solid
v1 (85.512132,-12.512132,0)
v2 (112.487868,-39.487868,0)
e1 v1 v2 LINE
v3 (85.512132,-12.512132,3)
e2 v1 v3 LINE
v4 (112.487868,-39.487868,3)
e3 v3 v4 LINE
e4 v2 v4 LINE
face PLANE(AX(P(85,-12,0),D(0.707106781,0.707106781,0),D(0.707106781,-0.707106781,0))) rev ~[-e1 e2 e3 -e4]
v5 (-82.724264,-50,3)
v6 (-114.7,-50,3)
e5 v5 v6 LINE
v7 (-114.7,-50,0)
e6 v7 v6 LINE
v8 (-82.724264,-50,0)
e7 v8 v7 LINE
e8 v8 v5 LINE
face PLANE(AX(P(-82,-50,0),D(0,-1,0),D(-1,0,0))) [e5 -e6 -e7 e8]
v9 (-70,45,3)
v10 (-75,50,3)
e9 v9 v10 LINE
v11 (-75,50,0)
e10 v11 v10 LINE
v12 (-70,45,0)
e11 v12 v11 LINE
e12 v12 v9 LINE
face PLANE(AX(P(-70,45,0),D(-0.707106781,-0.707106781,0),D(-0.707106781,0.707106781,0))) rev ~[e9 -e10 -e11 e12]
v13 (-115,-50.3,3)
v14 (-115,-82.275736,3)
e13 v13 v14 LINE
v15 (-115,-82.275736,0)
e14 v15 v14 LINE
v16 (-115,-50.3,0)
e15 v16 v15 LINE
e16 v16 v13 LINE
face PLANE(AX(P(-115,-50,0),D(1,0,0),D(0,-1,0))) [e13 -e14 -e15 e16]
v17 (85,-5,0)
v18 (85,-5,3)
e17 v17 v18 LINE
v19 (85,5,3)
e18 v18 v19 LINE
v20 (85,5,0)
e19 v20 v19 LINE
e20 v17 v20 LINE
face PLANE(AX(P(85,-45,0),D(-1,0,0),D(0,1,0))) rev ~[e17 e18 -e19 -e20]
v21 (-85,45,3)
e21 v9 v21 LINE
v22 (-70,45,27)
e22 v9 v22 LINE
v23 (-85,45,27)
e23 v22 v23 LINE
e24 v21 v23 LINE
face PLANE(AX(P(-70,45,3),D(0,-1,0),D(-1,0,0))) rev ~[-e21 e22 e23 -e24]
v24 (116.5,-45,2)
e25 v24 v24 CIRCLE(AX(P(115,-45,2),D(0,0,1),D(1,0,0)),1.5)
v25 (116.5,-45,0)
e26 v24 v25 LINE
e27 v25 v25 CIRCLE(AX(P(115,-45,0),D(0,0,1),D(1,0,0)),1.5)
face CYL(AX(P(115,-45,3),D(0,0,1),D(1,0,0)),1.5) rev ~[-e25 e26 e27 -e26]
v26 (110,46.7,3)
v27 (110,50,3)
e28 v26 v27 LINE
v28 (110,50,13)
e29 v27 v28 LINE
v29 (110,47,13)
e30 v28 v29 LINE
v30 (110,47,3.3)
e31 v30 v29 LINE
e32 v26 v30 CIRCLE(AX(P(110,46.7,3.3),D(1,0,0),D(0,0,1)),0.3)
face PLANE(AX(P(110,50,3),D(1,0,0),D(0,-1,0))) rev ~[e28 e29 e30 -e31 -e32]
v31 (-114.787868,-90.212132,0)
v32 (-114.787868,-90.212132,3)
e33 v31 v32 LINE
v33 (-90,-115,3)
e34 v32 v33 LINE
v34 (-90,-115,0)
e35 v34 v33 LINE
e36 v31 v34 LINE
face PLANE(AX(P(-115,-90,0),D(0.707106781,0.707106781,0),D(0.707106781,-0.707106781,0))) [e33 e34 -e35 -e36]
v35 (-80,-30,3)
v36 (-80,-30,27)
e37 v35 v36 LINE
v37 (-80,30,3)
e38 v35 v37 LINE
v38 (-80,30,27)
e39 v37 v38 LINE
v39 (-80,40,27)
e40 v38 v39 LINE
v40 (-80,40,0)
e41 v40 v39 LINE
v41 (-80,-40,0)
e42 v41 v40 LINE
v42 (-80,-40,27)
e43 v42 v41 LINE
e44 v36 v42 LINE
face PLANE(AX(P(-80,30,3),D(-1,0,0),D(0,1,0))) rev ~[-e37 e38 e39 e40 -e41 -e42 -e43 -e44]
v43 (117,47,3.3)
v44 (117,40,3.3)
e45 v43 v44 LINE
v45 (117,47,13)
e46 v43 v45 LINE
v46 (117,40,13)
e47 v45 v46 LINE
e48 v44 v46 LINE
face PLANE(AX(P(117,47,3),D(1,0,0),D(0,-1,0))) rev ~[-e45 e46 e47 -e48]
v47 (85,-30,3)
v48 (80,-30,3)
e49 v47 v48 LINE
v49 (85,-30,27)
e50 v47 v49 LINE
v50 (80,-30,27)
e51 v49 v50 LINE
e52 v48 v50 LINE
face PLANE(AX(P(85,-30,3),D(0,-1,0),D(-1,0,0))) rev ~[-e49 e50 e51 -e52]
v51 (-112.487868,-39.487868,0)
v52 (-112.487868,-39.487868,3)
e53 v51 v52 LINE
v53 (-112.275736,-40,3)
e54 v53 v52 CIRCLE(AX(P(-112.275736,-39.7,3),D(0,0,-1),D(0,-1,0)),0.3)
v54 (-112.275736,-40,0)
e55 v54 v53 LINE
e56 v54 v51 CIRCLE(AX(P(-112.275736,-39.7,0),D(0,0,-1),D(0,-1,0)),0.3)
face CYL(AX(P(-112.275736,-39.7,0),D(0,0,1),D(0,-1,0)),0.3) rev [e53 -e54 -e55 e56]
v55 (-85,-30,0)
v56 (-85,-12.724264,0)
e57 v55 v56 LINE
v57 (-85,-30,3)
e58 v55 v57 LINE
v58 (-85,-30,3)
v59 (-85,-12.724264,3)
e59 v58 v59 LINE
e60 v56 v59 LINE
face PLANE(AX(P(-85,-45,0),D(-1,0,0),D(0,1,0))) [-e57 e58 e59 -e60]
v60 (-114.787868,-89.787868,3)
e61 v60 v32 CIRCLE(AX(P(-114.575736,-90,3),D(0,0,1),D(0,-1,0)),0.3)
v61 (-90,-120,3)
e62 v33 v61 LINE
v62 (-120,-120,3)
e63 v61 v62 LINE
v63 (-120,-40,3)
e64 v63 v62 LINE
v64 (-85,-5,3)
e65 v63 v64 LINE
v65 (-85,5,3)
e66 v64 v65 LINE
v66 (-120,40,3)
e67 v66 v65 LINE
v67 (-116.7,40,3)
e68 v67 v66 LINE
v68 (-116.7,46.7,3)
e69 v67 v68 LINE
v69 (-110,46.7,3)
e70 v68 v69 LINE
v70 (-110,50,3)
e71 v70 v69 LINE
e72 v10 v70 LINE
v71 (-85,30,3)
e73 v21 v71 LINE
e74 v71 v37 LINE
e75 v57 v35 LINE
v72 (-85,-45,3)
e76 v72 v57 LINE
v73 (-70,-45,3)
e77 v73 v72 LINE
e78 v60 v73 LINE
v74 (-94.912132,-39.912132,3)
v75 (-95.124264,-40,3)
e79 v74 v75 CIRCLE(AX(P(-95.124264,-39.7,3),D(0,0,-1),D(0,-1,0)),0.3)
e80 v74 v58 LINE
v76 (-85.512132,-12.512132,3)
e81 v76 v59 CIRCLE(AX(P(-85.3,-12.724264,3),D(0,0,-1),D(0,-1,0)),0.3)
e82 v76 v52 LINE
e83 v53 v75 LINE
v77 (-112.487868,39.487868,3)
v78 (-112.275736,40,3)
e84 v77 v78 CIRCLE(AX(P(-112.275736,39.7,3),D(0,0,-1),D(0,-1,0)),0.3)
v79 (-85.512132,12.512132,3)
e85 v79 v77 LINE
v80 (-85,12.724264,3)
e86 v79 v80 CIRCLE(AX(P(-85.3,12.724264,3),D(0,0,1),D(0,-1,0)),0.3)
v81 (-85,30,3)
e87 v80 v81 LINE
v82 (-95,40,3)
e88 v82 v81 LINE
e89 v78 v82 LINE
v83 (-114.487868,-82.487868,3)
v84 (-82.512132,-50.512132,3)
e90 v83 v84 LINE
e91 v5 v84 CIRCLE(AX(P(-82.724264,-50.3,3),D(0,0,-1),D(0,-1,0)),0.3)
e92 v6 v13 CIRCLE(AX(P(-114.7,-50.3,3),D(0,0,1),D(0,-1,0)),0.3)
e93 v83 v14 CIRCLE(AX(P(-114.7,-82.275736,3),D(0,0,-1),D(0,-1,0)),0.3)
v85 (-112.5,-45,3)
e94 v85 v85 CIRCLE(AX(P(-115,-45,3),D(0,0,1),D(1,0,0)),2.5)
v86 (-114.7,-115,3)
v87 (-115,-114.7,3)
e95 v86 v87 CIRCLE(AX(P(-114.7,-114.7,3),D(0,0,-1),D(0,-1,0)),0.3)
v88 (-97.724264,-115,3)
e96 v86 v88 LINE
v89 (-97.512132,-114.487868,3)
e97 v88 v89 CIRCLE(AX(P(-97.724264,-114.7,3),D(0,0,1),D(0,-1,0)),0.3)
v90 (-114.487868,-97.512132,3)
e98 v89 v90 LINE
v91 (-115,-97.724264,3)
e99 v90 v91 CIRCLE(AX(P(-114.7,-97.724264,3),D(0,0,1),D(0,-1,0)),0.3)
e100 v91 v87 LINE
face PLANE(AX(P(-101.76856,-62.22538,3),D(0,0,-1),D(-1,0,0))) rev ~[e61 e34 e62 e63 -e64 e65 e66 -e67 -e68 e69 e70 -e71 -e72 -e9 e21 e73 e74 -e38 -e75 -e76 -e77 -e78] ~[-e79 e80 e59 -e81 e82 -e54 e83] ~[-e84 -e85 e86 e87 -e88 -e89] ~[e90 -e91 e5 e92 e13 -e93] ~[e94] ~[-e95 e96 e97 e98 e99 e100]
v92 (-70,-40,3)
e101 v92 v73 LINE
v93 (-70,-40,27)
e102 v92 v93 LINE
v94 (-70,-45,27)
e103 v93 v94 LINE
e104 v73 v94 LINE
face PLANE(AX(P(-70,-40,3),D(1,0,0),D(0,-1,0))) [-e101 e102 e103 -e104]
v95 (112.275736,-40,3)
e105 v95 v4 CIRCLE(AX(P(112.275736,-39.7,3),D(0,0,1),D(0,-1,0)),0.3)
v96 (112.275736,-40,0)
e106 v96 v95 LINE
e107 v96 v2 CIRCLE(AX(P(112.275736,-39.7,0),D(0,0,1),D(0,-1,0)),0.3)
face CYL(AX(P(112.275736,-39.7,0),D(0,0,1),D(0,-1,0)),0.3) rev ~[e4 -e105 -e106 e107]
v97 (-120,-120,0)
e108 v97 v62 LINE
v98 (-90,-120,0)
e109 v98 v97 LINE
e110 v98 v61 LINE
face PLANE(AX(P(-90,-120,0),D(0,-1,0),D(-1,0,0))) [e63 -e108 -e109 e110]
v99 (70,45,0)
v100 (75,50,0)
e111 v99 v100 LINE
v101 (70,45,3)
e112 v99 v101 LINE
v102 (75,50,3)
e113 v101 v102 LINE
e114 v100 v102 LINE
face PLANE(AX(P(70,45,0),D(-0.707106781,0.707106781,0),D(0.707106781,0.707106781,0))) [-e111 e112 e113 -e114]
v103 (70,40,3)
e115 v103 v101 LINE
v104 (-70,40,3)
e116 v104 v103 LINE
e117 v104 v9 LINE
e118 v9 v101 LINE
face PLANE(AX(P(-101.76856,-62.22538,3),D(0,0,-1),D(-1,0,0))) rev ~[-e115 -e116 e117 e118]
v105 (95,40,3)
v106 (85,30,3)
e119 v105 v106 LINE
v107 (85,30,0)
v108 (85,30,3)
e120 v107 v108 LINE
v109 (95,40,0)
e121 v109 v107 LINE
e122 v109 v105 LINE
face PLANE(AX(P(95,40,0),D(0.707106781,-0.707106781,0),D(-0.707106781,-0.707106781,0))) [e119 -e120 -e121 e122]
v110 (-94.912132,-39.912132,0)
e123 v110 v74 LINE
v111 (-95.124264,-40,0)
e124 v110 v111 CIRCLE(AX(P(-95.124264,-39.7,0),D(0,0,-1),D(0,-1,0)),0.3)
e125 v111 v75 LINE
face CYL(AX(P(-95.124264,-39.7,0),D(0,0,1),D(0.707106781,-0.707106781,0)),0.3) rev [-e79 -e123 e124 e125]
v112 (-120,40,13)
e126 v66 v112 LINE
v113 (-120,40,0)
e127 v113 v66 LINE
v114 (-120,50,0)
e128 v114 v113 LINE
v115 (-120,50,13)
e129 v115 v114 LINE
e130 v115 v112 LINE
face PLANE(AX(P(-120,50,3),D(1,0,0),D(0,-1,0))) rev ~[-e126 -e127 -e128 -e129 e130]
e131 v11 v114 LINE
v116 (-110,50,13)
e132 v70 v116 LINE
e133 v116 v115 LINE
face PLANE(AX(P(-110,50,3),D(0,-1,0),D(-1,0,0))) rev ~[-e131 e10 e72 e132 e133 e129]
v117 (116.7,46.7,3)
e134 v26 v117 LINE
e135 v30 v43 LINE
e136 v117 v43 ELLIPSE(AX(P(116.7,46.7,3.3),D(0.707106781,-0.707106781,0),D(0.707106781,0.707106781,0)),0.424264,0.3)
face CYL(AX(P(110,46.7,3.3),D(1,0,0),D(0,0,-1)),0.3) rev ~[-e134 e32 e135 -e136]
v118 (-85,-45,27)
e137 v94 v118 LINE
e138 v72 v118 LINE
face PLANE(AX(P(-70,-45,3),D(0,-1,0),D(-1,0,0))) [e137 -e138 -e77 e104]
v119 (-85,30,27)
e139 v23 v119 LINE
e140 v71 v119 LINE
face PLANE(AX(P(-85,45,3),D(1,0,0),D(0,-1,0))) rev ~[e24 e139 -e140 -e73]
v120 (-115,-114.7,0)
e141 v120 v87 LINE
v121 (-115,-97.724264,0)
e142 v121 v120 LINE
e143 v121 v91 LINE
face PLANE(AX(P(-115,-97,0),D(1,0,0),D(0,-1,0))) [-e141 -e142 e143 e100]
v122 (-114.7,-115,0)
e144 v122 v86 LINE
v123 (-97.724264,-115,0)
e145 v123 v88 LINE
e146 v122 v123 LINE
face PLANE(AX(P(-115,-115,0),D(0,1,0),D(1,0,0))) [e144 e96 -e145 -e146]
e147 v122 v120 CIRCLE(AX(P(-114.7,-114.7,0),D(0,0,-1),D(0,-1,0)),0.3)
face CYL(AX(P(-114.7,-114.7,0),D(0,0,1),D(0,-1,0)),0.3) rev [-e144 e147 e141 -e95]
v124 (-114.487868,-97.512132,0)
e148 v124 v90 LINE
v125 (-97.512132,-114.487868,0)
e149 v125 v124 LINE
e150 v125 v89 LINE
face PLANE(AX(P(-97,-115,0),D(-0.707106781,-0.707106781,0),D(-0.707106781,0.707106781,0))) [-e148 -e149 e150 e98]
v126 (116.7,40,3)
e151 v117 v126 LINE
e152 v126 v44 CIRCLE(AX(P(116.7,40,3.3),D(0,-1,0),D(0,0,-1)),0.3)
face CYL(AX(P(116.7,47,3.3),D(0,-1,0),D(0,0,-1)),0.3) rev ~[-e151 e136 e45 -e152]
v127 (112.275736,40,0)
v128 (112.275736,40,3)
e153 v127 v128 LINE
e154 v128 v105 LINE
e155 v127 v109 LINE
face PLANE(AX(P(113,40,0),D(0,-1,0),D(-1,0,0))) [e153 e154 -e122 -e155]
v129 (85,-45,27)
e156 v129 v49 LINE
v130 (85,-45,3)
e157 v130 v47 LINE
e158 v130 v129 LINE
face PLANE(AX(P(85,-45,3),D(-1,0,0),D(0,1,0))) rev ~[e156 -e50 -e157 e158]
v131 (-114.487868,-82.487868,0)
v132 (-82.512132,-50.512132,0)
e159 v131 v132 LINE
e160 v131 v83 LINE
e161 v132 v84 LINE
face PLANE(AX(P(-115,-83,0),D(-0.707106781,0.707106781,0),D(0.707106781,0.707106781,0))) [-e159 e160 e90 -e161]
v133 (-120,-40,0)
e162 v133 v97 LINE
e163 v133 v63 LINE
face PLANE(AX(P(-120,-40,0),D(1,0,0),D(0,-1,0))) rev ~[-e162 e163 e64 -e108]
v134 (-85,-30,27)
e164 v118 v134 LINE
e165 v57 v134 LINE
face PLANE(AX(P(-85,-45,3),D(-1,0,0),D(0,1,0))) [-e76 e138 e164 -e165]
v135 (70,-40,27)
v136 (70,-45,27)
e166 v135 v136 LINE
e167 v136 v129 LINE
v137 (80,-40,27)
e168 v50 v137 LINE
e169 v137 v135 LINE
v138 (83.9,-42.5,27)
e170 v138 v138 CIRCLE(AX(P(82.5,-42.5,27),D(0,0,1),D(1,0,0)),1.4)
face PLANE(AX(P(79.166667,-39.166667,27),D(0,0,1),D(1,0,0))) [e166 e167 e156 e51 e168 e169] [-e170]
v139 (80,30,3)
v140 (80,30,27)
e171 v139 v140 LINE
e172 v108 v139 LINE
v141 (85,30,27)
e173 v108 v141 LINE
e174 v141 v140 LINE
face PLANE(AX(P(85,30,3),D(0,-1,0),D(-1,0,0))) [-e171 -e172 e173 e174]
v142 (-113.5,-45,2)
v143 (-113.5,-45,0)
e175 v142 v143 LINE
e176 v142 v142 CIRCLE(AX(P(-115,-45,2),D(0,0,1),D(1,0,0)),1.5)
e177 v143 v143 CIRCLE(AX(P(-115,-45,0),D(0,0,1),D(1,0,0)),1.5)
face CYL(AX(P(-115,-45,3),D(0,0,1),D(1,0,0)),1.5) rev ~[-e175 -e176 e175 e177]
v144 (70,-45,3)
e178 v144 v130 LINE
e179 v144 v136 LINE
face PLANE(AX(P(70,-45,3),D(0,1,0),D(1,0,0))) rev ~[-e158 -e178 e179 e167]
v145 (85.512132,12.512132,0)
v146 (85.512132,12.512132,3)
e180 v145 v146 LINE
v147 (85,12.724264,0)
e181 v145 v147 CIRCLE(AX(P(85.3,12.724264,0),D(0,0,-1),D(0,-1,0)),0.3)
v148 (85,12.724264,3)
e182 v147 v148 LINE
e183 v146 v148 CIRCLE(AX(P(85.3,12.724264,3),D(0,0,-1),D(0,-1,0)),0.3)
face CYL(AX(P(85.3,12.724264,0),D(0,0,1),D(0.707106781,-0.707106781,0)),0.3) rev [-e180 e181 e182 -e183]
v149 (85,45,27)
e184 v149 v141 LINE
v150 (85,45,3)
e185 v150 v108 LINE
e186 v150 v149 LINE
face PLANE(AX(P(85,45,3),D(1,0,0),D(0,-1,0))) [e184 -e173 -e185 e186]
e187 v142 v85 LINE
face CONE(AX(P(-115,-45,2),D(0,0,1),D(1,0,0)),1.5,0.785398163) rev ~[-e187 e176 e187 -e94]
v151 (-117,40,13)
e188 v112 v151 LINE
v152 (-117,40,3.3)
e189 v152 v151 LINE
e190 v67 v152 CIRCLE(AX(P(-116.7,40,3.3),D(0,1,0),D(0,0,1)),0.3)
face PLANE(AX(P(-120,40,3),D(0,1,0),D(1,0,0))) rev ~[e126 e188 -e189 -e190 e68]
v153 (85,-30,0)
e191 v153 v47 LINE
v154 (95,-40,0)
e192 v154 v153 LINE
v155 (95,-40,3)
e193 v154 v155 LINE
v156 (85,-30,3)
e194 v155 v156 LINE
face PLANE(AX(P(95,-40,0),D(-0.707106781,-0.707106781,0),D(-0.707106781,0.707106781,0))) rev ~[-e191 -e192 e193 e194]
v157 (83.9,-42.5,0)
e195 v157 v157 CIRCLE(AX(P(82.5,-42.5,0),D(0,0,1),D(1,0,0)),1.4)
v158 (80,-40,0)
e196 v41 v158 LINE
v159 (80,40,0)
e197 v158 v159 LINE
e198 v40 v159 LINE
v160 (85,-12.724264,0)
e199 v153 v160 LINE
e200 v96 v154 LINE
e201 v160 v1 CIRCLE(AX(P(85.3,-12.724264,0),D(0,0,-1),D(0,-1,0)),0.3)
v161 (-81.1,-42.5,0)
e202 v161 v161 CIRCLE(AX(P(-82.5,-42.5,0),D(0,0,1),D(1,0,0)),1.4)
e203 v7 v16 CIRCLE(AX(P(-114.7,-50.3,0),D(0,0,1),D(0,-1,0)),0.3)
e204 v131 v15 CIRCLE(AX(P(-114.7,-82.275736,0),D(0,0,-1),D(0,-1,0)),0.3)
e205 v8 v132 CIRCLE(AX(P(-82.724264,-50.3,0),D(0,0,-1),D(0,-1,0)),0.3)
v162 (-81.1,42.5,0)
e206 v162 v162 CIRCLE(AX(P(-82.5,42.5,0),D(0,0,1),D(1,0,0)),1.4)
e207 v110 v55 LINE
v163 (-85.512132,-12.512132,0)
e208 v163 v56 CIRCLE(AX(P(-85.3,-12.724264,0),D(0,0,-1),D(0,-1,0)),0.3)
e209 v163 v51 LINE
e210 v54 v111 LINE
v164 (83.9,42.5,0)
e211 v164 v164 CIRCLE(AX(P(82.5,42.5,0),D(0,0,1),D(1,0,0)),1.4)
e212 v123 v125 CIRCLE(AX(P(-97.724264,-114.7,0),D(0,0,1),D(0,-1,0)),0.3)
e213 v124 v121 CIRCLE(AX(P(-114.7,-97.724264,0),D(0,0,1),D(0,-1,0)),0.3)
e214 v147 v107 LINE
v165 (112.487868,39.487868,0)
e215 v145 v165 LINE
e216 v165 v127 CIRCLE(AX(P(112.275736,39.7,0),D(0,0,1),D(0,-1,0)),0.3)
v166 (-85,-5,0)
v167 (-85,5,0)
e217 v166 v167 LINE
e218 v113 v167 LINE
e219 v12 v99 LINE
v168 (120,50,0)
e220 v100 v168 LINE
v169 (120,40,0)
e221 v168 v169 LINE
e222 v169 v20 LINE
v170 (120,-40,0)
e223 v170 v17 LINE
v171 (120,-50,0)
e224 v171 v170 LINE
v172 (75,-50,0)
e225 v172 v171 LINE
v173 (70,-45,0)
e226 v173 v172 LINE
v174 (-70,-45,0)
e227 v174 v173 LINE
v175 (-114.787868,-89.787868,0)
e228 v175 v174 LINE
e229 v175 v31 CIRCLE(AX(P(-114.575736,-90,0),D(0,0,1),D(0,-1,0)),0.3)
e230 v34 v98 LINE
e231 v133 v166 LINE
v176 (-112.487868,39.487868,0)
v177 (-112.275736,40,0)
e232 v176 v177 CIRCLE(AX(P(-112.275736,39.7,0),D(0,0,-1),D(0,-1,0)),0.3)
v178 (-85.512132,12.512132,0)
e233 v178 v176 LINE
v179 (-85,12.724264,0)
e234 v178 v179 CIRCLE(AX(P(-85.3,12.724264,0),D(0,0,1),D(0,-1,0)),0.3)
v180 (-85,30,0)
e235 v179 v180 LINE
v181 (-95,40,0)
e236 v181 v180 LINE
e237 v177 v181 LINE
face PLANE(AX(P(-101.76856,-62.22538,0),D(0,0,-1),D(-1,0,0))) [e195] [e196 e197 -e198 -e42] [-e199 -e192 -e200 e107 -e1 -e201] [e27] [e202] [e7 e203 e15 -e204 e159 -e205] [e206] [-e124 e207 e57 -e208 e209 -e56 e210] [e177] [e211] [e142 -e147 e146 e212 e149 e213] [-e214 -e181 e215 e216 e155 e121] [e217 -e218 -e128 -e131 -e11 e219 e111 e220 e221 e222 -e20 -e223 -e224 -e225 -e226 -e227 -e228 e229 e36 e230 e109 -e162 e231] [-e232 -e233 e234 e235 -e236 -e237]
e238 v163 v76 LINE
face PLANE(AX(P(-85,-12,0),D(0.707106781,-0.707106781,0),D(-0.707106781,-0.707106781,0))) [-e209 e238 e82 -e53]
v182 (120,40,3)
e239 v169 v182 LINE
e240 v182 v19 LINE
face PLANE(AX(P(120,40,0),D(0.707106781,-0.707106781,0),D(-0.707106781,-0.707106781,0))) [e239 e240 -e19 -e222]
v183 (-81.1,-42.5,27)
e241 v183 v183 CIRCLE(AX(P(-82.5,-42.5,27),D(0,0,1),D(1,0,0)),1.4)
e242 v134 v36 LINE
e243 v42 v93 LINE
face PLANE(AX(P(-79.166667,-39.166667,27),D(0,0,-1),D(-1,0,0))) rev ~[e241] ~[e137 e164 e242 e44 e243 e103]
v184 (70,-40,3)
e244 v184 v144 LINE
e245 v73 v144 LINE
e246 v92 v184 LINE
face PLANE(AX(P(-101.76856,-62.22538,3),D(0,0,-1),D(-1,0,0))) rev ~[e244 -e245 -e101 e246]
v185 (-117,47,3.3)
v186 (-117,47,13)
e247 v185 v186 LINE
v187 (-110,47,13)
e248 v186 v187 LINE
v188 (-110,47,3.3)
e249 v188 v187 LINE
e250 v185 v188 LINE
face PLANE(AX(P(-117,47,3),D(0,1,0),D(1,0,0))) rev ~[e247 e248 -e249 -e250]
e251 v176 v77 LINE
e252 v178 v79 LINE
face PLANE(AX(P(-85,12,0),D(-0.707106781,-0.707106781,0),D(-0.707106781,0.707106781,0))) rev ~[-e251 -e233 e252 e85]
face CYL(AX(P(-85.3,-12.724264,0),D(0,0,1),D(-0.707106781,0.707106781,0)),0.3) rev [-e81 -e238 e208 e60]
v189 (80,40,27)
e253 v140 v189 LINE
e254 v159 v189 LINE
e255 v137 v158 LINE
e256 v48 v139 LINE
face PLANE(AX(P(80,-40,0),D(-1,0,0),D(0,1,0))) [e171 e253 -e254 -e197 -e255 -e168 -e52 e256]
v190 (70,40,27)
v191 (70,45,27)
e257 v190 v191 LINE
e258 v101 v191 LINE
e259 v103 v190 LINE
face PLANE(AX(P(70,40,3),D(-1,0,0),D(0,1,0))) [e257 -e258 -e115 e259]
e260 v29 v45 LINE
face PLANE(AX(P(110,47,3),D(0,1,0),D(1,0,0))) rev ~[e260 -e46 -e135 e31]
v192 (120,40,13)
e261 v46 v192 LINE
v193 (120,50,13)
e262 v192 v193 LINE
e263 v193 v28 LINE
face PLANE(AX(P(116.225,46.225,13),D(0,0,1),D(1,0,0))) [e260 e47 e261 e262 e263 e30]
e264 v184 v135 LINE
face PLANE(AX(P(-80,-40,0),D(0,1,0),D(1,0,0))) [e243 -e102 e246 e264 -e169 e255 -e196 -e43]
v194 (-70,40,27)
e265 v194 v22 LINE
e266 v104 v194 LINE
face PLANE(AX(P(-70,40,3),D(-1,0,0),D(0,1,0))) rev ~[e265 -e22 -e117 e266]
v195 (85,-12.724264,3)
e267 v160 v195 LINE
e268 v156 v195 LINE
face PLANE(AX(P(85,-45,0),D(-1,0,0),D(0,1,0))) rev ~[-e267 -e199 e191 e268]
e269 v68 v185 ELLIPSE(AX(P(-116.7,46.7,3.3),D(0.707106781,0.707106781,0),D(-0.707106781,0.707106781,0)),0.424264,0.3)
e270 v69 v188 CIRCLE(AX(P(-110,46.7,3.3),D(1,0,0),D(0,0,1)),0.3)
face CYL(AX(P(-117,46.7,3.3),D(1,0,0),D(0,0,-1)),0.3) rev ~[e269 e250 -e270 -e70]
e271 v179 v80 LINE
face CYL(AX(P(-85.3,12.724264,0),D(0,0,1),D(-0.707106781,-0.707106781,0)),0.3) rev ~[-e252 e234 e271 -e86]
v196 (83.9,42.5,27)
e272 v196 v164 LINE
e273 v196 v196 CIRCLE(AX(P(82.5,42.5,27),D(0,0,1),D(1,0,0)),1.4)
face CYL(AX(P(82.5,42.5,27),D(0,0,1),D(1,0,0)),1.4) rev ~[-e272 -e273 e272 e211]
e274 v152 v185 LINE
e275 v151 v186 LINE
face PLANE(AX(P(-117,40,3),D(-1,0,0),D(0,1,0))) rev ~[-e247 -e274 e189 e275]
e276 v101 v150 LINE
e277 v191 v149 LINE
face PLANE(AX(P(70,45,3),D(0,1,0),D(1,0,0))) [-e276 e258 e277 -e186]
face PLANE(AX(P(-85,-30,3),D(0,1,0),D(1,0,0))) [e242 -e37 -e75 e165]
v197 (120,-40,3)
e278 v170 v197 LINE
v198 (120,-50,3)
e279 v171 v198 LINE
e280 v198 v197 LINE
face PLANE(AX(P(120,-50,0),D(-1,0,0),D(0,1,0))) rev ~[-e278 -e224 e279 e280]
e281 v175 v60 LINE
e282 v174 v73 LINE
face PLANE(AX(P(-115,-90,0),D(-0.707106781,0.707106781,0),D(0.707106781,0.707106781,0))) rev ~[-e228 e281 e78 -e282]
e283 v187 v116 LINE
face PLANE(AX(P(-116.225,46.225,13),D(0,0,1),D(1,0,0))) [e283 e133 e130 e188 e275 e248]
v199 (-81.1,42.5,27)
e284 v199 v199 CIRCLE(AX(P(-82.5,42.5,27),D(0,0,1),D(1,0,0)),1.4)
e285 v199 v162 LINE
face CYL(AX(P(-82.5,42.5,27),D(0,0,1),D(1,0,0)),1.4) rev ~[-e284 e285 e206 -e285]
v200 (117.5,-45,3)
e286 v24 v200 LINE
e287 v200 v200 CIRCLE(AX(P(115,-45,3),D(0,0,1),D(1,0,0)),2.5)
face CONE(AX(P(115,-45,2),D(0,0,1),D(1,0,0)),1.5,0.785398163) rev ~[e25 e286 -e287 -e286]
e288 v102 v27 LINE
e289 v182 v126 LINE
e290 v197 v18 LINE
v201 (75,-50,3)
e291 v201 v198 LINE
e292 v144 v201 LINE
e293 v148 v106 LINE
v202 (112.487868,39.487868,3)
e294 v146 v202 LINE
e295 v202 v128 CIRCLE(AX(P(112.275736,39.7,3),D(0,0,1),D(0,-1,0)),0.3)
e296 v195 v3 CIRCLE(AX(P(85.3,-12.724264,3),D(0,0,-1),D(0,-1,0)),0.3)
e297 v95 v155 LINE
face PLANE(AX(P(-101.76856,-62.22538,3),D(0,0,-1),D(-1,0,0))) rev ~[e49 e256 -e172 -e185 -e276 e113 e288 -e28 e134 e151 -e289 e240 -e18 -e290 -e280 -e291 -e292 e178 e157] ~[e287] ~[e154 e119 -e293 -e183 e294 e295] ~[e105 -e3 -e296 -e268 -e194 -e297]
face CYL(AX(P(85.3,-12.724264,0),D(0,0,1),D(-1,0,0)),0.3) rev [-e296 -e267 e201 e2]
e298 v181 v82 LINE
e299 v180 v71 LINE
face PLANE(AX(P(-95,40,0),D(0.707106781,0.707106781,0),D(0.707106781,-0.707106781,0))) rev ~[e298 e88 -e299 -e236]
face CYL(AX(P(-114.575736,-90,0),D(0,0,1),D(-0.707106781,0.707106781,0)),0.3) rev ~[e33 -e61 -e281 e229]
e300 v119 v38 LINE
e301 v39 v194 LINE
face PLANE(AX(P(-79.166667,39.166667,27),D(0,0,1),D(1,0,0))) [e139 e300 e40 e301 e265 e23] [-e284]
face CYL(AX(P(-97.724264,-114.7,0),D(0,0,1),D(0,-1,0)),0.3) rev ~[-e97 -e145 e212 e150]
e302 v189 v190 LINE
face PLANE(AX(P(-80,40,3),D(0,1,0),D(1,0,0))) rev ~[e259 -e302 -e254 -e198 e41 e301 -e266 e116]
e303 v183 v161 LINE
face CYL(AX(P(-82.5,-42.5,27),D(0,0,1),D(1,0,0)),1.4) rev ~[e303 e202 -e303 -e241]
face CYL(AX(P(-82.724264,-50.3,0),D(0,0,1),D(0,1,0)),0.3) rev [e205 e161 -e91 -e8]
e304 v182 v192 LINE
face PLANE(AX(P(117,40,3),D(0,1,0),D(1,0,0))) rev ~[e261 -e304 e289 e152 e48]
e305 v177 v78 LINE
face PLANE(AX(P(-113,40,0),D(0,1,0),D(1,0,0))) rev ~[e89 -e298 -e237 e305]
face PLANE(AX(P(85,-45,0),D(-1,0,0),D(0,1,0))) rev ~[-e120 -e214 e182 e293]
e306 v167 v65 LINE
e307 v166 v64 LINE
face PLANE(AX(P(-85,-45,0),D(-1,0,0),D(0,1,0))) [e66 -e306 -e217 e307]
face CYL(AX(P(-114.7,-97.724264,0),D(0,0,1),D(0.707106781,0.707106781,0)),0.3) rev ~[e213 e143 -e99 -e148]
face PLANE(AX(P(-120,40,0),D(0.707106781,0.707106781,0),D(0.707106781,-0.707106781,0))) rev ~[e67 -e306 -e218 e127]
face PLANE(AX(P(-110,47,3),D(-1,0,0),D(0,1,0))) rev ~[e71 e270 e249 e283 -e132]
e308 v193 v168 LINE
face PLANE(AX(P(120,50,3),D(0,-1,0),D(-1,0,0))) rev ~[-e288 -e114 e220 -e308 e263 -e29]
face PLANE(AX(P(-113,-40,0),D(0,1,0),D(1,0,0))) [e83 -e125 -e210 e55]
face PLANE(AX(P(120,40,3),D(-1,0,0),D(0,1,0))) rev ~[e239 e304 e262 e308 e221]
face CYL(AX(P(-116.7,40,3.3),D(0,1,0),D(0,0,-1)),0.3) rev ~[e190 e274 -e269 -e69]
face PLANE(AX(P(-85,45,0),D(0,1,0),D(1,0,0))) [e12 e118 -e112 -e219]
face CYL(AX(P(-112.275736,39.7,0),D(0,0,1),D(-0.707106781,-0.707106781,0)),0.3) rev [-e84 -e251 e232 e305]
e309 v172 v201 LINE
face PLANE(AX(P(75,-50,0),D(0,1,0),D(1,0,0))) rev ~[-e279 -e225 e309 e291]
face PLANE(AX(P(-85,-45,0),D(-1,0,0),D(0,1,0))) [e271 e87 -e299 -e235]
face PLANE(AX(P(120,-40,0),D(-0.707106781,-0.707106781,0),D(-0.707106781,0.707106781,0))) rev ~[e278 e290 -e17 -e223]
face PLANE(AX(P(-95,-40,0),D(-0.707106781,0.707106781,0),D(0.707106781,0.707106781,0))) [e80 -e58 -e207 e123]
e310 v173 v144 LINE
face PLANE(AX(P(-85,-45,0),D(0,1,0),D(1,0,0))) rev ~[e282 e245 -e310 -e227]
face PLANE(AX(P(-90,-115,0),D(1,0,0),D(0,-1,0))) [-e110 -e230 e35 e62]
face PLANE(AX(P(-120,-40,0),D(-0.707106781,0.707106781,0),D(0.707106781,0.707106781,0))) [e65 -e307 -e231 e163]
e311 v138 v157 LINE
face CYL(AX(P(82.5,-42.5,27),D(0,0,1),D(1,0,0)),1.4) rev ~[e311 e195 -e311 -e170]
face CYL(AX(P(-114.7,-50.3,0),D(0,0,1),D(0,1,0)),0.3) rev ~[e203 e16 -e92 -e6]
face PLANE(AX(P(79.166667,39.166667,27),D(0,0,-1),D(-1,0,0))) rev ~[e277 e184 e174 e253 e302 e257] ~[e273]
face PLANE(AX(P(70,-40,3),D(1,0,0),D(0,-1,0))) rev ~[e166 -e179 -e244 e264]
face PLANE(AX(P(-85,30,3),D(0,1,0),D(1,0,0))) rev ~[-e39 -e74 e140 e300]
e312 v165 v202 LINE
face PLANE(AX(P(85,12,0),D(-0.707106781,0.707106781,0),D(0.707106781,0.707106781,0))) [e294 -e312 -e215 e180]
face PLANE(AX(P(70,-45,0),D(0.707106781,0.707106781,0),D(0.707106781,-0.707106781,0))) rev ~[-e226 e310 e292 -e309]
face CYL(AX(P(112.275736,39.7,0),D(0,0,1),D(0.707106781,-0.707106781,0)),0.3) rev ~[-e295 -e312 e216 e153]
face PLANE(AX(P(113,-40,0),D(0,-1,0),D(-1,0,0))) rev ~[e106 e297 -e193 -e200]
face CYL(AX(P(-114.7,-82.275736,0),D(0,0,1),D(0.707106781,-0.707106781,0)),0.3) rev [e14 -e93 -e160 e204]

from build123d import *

# Parameters (mm, degrees)
SKETCH003_W     = 170
SKETCH003_H     = 90
SKETCH003_W_2   = 160
SKETCH003_H_2   = 80
PAD_DEPTH       = 3
PAD001_DEPTH    = 3
PAD002_DEPTH    = 3
PAD003_DEPTH    = 3
PAD004_DEPTH    = 3
PAD005_DEPTH    = 10
PAD006_DEPTH    = 10
PAD007_DEPTH    = 24
SKETCH014_R     = 1.65
HOLE_DEPTH      = 30
SKETCH015_R     = 1.325
HOLE001_DEPTH   = 30
SKETCH016_R     = 1.325
HOLE002_DEPTH   = 30
SKETCH017_R     = 1.325
HOLE003_DEPTH   = 30
FILLET_R        = 0.3
FILLET001_R     = 0.3
FILLET002_R     = 0.3
FILLET003_R     = 0.3
FILLET004_R     = 0.3
FILLET005_R     = 0.3
FILLET006_R     = 0.3
FILLET007_R     = 0.3
FILLET008_R     = 0.3
FILLET009_R     = 0.3
SKETCH018_W     = 3.707428
SKETCH018_H     = 3.707435
PAD008_DEPTH    = 27
SKETCH019_W     = 4.325348
SKETCH019_H     = 3.769226
PAD009_DEPTH    = 27
SKETCH020_W     = 4.473305
SKETCH020_H     = 4.349049
PAD010_DEPTH    = 27
SKETCH021_W     = 3.413819
SKETCH021_H     = 3.638272
PAD011_DEPTH    = 27
SKETCH023_R     = 1.4
POCKET_DEPTH    = 30
SKETCH024_R     = 1.4
POCKET001_DEPTH = 30
SKETCH025_R     = 1.4
POCKET002_DEPTH = 30
SKETCH026_R     = 1.4
POCKET003_DEPTH = 30
SKETCH027_R     = 1.5
POCKET004_DEPTH = 5
CHAMFER_SIZE    = 1


with BuildPart() as part:
    # Sketch003 → Pad (new body)
    with BuildSketch(Plane.XY):
        Rectangle(SKETCH003_W, SKETCH003_H)
        Rectangle(SKETCH003_W_2, SKETCH003_H_2, mode=Mode.SUBTRACT)
    extrude(amount=PAD_DEPTH)

    # Sketch005 → Pad001 (join)
    with BuildSketch(Plane.XY):
        Polygon((-70, 45), (-75, 50), (-120, 50), (-120, 40), (-85, 5), (-85, 12), (-113, 40), (-95, 40), (-85, 30), (-85, 45), align=None)
    extrude(amount=PAD001_DEPTH)

    # Sketch007 → Pad002 (join)
    with BuildSketch(Plane.XY):
        Polygon((70, 45), (75, 50), (120, 50), (120, 40), (85, 5), (85, 12), (113, 40), (95, 40), (85, 30), (85, 45), align=None)
    extrude(amount=PAD002_DEPTH)

    # Sketch008 → Pad003 (join)
    with BuildSketch(Plane.XY):
        Polygon((70, -45), (75, -50), (120, -50), (120, -40), (85, -5), (85, -12), (113, -40), (95, -40), (85, -30), (85, -45), align=None)
    extrude(amount=PAD003_DEPTH)

    # Sketch009 → Pad004 (join)
    with BuildSketch(Plane.XY):
        Polygon((-70, -45), (-75, -50), (-115, -90), (-90, -115), (-90, -120), (-120, -120), (-120, -50), (-120, -40), (-85, -5), (-85, -12), (-113, -40), (-95, -40), (-85, -30), (-85, -45), align=None)
        Polygon((-115, -50), (-115, -83), (-82, -50), align=None, mode=Mode.SUBTRACT)
        Polygon((-115, -97), (-115, -115), (-97, -115), align=None, mode=Mode.SUBTRACT)
    extrude(amount=PAD004_DEPTH)

    # Sketch011 (on Face23 of Pad004) → Pad005 (join)
    with BuildSketch(Plane.XY.offset(3)):
        Polygon((-120, 50), (-120, 40), (-117, 40), (-117, 47), (-110, 47), (-110, 50), align=None)
    extrude(amount=PAD005_DEPTH)

    # Sketch012 (on Face22 of Pad005) → Pad006 (join)
    with BuildSketch(Plane.XY.offset(3)):
        Polygon((120, 50), (110, 50), (110, 47), (117, 47), (117, 40), (120, 40), align=None)
    extrude(amount=PAD006_DEPTH)

    # Sketch013 (on Face4 of Pad006) → Pad007 (join)
    with BuildSketch(Plane.XY.offset(3)):
        Polygon((-85, 45), (-85, 30), (-80, 30), (-80, 40), (-70, 40), (-70, 45), align=None)
        Polygon((85, 45), (85, 30), (80, 30), (80, 40), (70, 40), (70, 45), align=None)
        Polygon((85, -45), (85, -30), (80, -30), (80, -40), (70, -40), (70, -45), align=None)
        Polygon((-85, -45), (-85, -30), (-80, -30), (-80, -40), (-70, -40), (-70, -45), align=None)
    extrude(amount=PAD007_DEPTH)

    # Sketch014 (on Face80 of Pad007) → Hole (cut)
    with BuildSketch(Plane.XY.offset(27)):
        with Locations((-82.5, 42.5)):
            Circle(SKETCH014_R)
    extrude(amount=-HOLE_DEPTH, mode=Mode.SUBTRACT)

    # Sketch015 (on Face99 of Hole) → Hole001 (cut)
    with BuildSketch(Plane.XY.offset(27)):
        with Locations((-82.5, -42.5)):
            Circle(SKETCH015_R)
    extrude(amount=-HOLE001_DEPTH, mode=Mode.SUBTRACT)

    # Sketch016 (on Face84 of Hole001) → Hole002 (cut)
    with BuildSketch(Plane.XY.offset(27)):
        with Locations((82.5, 42.5)):
            Circle(SKETCH016_R)
    extrude(amount=-HOLE002_DEPTH, mode=Mode.SUBTRACT)

    # Sketch017 (on Face104 of Hole002) → Hole003 (cut)
    with BuildSketch(Plane.XY.offset(27)):
        with Locations((82.5, -42.5)):
            Circle(SKETCH017_R)
    extrude(amount=-HOLE003_DEPTH, mode=Mode.SUBTRACT)

    # Fillet
    fillet_edges = [part.edges().sort_by_distance(p)[0] for p in [
        (-115, -97, 1.5),
    ]]
    fillet(fillet_edges, radius=FILLET_R)

    # Fillet001
    fillet001_edges = [part.edges().sort_by_distance(p)[0] for p in [
        (-115, -115, 1.5),
    ]]
    fillet(fillet001_edges, radius=FILLET001_R)

    # Fillet002
    fillet002_edges = [part.edges().sort_by_distance(p)[0] for p in [
        (-97, -115, 1.5),
    ]]
    fillet(fillet002_edges, radius=FILLET002_R)

    # Fillet003
    fillet003_edges = [part.edges().sort_by_distance(p)[0] for p in [
        (-115, -90, 1.5),
    ]]
    fillet(fillet003_edges, radius=FILLET003_R)

    # Fillet004
    fillet004_edges = [part.edges().sort_by_distance(p)[0] for p in [
        (-115, -50, 1.5),
        (-115, -83, 1.5),
        (-82, -50, 1.5),
    ]]
    fillet(fillet004_edges, radius=FILLET004_R)

    # Fillet005
    fillet005_edges = [part.edges().sort_by_distance(p)[0] for p in [
        (-95, -40, 1.5),
        (-85, -12, 1.5),
        (-113, -40, 1.5),
    ]]
    fillet(fillet005_edges, radius=FILLET005_R)

    # Fillet006
    fillet006_edges = [part.edges().sort_by_distance(p)[0] for p in [
        (-117, 43.5, 3),
        (-113.5, 47, 3),
    ]]
    fillet(fillet006_edges, radius=FILLET006_R)

    # Fillet007
    fillet007_edges = [part.edges().sort_by_distance(p)[0] for p in [
        (-113, 40, 1.5),
        (-85, 12, 1.5),
    ]]
    fillet(fillet007_edges, radius=FILLET007_R)

    # Fillet008
    fillet008_edges = [part.edges().sort_by_distance(p)[0] for p in [
        (113.5, 47, 3),
        (117, 43.5, 3),
        (113, 40, 1.5),
        (85, 12, 1.5),
    ]]
    fillet(fillet008_edges, radius=FILLET008_R)

    # Fillet009
    fillet009_edges = [part.edges().sort_by_distance(p)[0] for p in [
        (113, -40, 1.5),
        (85, -12, 1.5),
    ]]
    fillet(fillet009_edges, radius=FILLET009_R)

    # Sketch018 (on Face81 of Fillet009) → Pad008 (join)
    with BuildSketch(Plane.XY.offset(27)):
        with Locations((82.542801, -42.437325)):
            Rectangle(SKETCH018_W, SKETCH018_H)
    extrude(amount=-PAD008_DEPTH)

    # Sketch019 (on Face37 of Pad008) → Pad009 (join)
    with BuildSketch(Plane.XY.offset(27)):
        with Locations((82.440964, 42.612553)):
            Rectangle(SKETCH019_W, SKETCH019_H)
    extrude(amount=-PAD009_DEPTH)

    # Sketch020 (on Face85 of Pad009) → Pad010 (join)
    with BuildSketch(Plane.XY.offset(27)):
        with Locations((-82.434589, 42.41842)):
            Rectangle(SKETCH020_W, SKETCH020_H)
    extrude(amount=-PAD010_DEPTH)

    # Sketch021 (on Face18 of Pad010) → Pad011 (join)
    with BuildSketch(Plane.XY.offset(27)):
        with Locations((-82.443809, -42.548483)):
            Rectangle(SKETCH021_W, SKETCH021_H)
    extrude(amount=-PAD011_DEPTH)

    # Sketch023 (on Face83 of Pad011) → Pocket (cut)
    with BuildSketch(Plane.XY.offset(27)):
        with Locations((-82.5, 42.5)):
            Circle(SKETCH023_R)
    extrude(amount=-POCKET_DEPTH, mode=Mode.SUBTRACT)

    # Sketch024 (on Face99 of Hole) → Pocket001 (cut)
    with BuildSketch(Plane.XY.offset(27)):
        with Locations((-82.5, -42.5)):
            Circle(SKETCH024_R)
    extrude(amount=-POCKET001_DEPTH, mode=Mode.SUBTRACT)

    # Sketch025 (on Face84 of Hole001) → Pocket002 (cut)
    with BuildSketch(Plane.XY.offset(27)):
        with Locations((82.5, 42.5)):
            Circle(SKETCH025_R)
    extrude(amount=-POCKET002_DEPTH, mode=Mode.SUBTRACT)

    # Sketch026 (on Face104 of Hole002) → Pocket003 (cut)
    with BuildSketch(Plane.XY.offset(27)):
        with Locations((82.5, -42.5)):
            Circle(SKETCH026_R)
    extrude(amount=-POCKET003_DEPTH, mode=Mode.SUBTRACT)

    # Sketch027 (on Face6 of Pocket003) → Pocket004 (cut)
    with BuildSketch(Plane.XY.offset(3)):
        with Locations((-115, -45)):
            Circle(SKETCH027_R)
        with Locations((115, -45)):
            Circle(SKETCH027_R)
    extrude(amount=-POCKET004_DEPTH, mode=Mode.SUBTRACT)

    # Chamfer
    chamfer_edges = [part.edges().sort_by_distance(p)[0] for p in [
        (-116.5, -45, 3),
        (113.5, -45, 3),
    ]]
    chamfer(chamfer_edges, length=CHAMFER_SIZE)


solid = part.part
